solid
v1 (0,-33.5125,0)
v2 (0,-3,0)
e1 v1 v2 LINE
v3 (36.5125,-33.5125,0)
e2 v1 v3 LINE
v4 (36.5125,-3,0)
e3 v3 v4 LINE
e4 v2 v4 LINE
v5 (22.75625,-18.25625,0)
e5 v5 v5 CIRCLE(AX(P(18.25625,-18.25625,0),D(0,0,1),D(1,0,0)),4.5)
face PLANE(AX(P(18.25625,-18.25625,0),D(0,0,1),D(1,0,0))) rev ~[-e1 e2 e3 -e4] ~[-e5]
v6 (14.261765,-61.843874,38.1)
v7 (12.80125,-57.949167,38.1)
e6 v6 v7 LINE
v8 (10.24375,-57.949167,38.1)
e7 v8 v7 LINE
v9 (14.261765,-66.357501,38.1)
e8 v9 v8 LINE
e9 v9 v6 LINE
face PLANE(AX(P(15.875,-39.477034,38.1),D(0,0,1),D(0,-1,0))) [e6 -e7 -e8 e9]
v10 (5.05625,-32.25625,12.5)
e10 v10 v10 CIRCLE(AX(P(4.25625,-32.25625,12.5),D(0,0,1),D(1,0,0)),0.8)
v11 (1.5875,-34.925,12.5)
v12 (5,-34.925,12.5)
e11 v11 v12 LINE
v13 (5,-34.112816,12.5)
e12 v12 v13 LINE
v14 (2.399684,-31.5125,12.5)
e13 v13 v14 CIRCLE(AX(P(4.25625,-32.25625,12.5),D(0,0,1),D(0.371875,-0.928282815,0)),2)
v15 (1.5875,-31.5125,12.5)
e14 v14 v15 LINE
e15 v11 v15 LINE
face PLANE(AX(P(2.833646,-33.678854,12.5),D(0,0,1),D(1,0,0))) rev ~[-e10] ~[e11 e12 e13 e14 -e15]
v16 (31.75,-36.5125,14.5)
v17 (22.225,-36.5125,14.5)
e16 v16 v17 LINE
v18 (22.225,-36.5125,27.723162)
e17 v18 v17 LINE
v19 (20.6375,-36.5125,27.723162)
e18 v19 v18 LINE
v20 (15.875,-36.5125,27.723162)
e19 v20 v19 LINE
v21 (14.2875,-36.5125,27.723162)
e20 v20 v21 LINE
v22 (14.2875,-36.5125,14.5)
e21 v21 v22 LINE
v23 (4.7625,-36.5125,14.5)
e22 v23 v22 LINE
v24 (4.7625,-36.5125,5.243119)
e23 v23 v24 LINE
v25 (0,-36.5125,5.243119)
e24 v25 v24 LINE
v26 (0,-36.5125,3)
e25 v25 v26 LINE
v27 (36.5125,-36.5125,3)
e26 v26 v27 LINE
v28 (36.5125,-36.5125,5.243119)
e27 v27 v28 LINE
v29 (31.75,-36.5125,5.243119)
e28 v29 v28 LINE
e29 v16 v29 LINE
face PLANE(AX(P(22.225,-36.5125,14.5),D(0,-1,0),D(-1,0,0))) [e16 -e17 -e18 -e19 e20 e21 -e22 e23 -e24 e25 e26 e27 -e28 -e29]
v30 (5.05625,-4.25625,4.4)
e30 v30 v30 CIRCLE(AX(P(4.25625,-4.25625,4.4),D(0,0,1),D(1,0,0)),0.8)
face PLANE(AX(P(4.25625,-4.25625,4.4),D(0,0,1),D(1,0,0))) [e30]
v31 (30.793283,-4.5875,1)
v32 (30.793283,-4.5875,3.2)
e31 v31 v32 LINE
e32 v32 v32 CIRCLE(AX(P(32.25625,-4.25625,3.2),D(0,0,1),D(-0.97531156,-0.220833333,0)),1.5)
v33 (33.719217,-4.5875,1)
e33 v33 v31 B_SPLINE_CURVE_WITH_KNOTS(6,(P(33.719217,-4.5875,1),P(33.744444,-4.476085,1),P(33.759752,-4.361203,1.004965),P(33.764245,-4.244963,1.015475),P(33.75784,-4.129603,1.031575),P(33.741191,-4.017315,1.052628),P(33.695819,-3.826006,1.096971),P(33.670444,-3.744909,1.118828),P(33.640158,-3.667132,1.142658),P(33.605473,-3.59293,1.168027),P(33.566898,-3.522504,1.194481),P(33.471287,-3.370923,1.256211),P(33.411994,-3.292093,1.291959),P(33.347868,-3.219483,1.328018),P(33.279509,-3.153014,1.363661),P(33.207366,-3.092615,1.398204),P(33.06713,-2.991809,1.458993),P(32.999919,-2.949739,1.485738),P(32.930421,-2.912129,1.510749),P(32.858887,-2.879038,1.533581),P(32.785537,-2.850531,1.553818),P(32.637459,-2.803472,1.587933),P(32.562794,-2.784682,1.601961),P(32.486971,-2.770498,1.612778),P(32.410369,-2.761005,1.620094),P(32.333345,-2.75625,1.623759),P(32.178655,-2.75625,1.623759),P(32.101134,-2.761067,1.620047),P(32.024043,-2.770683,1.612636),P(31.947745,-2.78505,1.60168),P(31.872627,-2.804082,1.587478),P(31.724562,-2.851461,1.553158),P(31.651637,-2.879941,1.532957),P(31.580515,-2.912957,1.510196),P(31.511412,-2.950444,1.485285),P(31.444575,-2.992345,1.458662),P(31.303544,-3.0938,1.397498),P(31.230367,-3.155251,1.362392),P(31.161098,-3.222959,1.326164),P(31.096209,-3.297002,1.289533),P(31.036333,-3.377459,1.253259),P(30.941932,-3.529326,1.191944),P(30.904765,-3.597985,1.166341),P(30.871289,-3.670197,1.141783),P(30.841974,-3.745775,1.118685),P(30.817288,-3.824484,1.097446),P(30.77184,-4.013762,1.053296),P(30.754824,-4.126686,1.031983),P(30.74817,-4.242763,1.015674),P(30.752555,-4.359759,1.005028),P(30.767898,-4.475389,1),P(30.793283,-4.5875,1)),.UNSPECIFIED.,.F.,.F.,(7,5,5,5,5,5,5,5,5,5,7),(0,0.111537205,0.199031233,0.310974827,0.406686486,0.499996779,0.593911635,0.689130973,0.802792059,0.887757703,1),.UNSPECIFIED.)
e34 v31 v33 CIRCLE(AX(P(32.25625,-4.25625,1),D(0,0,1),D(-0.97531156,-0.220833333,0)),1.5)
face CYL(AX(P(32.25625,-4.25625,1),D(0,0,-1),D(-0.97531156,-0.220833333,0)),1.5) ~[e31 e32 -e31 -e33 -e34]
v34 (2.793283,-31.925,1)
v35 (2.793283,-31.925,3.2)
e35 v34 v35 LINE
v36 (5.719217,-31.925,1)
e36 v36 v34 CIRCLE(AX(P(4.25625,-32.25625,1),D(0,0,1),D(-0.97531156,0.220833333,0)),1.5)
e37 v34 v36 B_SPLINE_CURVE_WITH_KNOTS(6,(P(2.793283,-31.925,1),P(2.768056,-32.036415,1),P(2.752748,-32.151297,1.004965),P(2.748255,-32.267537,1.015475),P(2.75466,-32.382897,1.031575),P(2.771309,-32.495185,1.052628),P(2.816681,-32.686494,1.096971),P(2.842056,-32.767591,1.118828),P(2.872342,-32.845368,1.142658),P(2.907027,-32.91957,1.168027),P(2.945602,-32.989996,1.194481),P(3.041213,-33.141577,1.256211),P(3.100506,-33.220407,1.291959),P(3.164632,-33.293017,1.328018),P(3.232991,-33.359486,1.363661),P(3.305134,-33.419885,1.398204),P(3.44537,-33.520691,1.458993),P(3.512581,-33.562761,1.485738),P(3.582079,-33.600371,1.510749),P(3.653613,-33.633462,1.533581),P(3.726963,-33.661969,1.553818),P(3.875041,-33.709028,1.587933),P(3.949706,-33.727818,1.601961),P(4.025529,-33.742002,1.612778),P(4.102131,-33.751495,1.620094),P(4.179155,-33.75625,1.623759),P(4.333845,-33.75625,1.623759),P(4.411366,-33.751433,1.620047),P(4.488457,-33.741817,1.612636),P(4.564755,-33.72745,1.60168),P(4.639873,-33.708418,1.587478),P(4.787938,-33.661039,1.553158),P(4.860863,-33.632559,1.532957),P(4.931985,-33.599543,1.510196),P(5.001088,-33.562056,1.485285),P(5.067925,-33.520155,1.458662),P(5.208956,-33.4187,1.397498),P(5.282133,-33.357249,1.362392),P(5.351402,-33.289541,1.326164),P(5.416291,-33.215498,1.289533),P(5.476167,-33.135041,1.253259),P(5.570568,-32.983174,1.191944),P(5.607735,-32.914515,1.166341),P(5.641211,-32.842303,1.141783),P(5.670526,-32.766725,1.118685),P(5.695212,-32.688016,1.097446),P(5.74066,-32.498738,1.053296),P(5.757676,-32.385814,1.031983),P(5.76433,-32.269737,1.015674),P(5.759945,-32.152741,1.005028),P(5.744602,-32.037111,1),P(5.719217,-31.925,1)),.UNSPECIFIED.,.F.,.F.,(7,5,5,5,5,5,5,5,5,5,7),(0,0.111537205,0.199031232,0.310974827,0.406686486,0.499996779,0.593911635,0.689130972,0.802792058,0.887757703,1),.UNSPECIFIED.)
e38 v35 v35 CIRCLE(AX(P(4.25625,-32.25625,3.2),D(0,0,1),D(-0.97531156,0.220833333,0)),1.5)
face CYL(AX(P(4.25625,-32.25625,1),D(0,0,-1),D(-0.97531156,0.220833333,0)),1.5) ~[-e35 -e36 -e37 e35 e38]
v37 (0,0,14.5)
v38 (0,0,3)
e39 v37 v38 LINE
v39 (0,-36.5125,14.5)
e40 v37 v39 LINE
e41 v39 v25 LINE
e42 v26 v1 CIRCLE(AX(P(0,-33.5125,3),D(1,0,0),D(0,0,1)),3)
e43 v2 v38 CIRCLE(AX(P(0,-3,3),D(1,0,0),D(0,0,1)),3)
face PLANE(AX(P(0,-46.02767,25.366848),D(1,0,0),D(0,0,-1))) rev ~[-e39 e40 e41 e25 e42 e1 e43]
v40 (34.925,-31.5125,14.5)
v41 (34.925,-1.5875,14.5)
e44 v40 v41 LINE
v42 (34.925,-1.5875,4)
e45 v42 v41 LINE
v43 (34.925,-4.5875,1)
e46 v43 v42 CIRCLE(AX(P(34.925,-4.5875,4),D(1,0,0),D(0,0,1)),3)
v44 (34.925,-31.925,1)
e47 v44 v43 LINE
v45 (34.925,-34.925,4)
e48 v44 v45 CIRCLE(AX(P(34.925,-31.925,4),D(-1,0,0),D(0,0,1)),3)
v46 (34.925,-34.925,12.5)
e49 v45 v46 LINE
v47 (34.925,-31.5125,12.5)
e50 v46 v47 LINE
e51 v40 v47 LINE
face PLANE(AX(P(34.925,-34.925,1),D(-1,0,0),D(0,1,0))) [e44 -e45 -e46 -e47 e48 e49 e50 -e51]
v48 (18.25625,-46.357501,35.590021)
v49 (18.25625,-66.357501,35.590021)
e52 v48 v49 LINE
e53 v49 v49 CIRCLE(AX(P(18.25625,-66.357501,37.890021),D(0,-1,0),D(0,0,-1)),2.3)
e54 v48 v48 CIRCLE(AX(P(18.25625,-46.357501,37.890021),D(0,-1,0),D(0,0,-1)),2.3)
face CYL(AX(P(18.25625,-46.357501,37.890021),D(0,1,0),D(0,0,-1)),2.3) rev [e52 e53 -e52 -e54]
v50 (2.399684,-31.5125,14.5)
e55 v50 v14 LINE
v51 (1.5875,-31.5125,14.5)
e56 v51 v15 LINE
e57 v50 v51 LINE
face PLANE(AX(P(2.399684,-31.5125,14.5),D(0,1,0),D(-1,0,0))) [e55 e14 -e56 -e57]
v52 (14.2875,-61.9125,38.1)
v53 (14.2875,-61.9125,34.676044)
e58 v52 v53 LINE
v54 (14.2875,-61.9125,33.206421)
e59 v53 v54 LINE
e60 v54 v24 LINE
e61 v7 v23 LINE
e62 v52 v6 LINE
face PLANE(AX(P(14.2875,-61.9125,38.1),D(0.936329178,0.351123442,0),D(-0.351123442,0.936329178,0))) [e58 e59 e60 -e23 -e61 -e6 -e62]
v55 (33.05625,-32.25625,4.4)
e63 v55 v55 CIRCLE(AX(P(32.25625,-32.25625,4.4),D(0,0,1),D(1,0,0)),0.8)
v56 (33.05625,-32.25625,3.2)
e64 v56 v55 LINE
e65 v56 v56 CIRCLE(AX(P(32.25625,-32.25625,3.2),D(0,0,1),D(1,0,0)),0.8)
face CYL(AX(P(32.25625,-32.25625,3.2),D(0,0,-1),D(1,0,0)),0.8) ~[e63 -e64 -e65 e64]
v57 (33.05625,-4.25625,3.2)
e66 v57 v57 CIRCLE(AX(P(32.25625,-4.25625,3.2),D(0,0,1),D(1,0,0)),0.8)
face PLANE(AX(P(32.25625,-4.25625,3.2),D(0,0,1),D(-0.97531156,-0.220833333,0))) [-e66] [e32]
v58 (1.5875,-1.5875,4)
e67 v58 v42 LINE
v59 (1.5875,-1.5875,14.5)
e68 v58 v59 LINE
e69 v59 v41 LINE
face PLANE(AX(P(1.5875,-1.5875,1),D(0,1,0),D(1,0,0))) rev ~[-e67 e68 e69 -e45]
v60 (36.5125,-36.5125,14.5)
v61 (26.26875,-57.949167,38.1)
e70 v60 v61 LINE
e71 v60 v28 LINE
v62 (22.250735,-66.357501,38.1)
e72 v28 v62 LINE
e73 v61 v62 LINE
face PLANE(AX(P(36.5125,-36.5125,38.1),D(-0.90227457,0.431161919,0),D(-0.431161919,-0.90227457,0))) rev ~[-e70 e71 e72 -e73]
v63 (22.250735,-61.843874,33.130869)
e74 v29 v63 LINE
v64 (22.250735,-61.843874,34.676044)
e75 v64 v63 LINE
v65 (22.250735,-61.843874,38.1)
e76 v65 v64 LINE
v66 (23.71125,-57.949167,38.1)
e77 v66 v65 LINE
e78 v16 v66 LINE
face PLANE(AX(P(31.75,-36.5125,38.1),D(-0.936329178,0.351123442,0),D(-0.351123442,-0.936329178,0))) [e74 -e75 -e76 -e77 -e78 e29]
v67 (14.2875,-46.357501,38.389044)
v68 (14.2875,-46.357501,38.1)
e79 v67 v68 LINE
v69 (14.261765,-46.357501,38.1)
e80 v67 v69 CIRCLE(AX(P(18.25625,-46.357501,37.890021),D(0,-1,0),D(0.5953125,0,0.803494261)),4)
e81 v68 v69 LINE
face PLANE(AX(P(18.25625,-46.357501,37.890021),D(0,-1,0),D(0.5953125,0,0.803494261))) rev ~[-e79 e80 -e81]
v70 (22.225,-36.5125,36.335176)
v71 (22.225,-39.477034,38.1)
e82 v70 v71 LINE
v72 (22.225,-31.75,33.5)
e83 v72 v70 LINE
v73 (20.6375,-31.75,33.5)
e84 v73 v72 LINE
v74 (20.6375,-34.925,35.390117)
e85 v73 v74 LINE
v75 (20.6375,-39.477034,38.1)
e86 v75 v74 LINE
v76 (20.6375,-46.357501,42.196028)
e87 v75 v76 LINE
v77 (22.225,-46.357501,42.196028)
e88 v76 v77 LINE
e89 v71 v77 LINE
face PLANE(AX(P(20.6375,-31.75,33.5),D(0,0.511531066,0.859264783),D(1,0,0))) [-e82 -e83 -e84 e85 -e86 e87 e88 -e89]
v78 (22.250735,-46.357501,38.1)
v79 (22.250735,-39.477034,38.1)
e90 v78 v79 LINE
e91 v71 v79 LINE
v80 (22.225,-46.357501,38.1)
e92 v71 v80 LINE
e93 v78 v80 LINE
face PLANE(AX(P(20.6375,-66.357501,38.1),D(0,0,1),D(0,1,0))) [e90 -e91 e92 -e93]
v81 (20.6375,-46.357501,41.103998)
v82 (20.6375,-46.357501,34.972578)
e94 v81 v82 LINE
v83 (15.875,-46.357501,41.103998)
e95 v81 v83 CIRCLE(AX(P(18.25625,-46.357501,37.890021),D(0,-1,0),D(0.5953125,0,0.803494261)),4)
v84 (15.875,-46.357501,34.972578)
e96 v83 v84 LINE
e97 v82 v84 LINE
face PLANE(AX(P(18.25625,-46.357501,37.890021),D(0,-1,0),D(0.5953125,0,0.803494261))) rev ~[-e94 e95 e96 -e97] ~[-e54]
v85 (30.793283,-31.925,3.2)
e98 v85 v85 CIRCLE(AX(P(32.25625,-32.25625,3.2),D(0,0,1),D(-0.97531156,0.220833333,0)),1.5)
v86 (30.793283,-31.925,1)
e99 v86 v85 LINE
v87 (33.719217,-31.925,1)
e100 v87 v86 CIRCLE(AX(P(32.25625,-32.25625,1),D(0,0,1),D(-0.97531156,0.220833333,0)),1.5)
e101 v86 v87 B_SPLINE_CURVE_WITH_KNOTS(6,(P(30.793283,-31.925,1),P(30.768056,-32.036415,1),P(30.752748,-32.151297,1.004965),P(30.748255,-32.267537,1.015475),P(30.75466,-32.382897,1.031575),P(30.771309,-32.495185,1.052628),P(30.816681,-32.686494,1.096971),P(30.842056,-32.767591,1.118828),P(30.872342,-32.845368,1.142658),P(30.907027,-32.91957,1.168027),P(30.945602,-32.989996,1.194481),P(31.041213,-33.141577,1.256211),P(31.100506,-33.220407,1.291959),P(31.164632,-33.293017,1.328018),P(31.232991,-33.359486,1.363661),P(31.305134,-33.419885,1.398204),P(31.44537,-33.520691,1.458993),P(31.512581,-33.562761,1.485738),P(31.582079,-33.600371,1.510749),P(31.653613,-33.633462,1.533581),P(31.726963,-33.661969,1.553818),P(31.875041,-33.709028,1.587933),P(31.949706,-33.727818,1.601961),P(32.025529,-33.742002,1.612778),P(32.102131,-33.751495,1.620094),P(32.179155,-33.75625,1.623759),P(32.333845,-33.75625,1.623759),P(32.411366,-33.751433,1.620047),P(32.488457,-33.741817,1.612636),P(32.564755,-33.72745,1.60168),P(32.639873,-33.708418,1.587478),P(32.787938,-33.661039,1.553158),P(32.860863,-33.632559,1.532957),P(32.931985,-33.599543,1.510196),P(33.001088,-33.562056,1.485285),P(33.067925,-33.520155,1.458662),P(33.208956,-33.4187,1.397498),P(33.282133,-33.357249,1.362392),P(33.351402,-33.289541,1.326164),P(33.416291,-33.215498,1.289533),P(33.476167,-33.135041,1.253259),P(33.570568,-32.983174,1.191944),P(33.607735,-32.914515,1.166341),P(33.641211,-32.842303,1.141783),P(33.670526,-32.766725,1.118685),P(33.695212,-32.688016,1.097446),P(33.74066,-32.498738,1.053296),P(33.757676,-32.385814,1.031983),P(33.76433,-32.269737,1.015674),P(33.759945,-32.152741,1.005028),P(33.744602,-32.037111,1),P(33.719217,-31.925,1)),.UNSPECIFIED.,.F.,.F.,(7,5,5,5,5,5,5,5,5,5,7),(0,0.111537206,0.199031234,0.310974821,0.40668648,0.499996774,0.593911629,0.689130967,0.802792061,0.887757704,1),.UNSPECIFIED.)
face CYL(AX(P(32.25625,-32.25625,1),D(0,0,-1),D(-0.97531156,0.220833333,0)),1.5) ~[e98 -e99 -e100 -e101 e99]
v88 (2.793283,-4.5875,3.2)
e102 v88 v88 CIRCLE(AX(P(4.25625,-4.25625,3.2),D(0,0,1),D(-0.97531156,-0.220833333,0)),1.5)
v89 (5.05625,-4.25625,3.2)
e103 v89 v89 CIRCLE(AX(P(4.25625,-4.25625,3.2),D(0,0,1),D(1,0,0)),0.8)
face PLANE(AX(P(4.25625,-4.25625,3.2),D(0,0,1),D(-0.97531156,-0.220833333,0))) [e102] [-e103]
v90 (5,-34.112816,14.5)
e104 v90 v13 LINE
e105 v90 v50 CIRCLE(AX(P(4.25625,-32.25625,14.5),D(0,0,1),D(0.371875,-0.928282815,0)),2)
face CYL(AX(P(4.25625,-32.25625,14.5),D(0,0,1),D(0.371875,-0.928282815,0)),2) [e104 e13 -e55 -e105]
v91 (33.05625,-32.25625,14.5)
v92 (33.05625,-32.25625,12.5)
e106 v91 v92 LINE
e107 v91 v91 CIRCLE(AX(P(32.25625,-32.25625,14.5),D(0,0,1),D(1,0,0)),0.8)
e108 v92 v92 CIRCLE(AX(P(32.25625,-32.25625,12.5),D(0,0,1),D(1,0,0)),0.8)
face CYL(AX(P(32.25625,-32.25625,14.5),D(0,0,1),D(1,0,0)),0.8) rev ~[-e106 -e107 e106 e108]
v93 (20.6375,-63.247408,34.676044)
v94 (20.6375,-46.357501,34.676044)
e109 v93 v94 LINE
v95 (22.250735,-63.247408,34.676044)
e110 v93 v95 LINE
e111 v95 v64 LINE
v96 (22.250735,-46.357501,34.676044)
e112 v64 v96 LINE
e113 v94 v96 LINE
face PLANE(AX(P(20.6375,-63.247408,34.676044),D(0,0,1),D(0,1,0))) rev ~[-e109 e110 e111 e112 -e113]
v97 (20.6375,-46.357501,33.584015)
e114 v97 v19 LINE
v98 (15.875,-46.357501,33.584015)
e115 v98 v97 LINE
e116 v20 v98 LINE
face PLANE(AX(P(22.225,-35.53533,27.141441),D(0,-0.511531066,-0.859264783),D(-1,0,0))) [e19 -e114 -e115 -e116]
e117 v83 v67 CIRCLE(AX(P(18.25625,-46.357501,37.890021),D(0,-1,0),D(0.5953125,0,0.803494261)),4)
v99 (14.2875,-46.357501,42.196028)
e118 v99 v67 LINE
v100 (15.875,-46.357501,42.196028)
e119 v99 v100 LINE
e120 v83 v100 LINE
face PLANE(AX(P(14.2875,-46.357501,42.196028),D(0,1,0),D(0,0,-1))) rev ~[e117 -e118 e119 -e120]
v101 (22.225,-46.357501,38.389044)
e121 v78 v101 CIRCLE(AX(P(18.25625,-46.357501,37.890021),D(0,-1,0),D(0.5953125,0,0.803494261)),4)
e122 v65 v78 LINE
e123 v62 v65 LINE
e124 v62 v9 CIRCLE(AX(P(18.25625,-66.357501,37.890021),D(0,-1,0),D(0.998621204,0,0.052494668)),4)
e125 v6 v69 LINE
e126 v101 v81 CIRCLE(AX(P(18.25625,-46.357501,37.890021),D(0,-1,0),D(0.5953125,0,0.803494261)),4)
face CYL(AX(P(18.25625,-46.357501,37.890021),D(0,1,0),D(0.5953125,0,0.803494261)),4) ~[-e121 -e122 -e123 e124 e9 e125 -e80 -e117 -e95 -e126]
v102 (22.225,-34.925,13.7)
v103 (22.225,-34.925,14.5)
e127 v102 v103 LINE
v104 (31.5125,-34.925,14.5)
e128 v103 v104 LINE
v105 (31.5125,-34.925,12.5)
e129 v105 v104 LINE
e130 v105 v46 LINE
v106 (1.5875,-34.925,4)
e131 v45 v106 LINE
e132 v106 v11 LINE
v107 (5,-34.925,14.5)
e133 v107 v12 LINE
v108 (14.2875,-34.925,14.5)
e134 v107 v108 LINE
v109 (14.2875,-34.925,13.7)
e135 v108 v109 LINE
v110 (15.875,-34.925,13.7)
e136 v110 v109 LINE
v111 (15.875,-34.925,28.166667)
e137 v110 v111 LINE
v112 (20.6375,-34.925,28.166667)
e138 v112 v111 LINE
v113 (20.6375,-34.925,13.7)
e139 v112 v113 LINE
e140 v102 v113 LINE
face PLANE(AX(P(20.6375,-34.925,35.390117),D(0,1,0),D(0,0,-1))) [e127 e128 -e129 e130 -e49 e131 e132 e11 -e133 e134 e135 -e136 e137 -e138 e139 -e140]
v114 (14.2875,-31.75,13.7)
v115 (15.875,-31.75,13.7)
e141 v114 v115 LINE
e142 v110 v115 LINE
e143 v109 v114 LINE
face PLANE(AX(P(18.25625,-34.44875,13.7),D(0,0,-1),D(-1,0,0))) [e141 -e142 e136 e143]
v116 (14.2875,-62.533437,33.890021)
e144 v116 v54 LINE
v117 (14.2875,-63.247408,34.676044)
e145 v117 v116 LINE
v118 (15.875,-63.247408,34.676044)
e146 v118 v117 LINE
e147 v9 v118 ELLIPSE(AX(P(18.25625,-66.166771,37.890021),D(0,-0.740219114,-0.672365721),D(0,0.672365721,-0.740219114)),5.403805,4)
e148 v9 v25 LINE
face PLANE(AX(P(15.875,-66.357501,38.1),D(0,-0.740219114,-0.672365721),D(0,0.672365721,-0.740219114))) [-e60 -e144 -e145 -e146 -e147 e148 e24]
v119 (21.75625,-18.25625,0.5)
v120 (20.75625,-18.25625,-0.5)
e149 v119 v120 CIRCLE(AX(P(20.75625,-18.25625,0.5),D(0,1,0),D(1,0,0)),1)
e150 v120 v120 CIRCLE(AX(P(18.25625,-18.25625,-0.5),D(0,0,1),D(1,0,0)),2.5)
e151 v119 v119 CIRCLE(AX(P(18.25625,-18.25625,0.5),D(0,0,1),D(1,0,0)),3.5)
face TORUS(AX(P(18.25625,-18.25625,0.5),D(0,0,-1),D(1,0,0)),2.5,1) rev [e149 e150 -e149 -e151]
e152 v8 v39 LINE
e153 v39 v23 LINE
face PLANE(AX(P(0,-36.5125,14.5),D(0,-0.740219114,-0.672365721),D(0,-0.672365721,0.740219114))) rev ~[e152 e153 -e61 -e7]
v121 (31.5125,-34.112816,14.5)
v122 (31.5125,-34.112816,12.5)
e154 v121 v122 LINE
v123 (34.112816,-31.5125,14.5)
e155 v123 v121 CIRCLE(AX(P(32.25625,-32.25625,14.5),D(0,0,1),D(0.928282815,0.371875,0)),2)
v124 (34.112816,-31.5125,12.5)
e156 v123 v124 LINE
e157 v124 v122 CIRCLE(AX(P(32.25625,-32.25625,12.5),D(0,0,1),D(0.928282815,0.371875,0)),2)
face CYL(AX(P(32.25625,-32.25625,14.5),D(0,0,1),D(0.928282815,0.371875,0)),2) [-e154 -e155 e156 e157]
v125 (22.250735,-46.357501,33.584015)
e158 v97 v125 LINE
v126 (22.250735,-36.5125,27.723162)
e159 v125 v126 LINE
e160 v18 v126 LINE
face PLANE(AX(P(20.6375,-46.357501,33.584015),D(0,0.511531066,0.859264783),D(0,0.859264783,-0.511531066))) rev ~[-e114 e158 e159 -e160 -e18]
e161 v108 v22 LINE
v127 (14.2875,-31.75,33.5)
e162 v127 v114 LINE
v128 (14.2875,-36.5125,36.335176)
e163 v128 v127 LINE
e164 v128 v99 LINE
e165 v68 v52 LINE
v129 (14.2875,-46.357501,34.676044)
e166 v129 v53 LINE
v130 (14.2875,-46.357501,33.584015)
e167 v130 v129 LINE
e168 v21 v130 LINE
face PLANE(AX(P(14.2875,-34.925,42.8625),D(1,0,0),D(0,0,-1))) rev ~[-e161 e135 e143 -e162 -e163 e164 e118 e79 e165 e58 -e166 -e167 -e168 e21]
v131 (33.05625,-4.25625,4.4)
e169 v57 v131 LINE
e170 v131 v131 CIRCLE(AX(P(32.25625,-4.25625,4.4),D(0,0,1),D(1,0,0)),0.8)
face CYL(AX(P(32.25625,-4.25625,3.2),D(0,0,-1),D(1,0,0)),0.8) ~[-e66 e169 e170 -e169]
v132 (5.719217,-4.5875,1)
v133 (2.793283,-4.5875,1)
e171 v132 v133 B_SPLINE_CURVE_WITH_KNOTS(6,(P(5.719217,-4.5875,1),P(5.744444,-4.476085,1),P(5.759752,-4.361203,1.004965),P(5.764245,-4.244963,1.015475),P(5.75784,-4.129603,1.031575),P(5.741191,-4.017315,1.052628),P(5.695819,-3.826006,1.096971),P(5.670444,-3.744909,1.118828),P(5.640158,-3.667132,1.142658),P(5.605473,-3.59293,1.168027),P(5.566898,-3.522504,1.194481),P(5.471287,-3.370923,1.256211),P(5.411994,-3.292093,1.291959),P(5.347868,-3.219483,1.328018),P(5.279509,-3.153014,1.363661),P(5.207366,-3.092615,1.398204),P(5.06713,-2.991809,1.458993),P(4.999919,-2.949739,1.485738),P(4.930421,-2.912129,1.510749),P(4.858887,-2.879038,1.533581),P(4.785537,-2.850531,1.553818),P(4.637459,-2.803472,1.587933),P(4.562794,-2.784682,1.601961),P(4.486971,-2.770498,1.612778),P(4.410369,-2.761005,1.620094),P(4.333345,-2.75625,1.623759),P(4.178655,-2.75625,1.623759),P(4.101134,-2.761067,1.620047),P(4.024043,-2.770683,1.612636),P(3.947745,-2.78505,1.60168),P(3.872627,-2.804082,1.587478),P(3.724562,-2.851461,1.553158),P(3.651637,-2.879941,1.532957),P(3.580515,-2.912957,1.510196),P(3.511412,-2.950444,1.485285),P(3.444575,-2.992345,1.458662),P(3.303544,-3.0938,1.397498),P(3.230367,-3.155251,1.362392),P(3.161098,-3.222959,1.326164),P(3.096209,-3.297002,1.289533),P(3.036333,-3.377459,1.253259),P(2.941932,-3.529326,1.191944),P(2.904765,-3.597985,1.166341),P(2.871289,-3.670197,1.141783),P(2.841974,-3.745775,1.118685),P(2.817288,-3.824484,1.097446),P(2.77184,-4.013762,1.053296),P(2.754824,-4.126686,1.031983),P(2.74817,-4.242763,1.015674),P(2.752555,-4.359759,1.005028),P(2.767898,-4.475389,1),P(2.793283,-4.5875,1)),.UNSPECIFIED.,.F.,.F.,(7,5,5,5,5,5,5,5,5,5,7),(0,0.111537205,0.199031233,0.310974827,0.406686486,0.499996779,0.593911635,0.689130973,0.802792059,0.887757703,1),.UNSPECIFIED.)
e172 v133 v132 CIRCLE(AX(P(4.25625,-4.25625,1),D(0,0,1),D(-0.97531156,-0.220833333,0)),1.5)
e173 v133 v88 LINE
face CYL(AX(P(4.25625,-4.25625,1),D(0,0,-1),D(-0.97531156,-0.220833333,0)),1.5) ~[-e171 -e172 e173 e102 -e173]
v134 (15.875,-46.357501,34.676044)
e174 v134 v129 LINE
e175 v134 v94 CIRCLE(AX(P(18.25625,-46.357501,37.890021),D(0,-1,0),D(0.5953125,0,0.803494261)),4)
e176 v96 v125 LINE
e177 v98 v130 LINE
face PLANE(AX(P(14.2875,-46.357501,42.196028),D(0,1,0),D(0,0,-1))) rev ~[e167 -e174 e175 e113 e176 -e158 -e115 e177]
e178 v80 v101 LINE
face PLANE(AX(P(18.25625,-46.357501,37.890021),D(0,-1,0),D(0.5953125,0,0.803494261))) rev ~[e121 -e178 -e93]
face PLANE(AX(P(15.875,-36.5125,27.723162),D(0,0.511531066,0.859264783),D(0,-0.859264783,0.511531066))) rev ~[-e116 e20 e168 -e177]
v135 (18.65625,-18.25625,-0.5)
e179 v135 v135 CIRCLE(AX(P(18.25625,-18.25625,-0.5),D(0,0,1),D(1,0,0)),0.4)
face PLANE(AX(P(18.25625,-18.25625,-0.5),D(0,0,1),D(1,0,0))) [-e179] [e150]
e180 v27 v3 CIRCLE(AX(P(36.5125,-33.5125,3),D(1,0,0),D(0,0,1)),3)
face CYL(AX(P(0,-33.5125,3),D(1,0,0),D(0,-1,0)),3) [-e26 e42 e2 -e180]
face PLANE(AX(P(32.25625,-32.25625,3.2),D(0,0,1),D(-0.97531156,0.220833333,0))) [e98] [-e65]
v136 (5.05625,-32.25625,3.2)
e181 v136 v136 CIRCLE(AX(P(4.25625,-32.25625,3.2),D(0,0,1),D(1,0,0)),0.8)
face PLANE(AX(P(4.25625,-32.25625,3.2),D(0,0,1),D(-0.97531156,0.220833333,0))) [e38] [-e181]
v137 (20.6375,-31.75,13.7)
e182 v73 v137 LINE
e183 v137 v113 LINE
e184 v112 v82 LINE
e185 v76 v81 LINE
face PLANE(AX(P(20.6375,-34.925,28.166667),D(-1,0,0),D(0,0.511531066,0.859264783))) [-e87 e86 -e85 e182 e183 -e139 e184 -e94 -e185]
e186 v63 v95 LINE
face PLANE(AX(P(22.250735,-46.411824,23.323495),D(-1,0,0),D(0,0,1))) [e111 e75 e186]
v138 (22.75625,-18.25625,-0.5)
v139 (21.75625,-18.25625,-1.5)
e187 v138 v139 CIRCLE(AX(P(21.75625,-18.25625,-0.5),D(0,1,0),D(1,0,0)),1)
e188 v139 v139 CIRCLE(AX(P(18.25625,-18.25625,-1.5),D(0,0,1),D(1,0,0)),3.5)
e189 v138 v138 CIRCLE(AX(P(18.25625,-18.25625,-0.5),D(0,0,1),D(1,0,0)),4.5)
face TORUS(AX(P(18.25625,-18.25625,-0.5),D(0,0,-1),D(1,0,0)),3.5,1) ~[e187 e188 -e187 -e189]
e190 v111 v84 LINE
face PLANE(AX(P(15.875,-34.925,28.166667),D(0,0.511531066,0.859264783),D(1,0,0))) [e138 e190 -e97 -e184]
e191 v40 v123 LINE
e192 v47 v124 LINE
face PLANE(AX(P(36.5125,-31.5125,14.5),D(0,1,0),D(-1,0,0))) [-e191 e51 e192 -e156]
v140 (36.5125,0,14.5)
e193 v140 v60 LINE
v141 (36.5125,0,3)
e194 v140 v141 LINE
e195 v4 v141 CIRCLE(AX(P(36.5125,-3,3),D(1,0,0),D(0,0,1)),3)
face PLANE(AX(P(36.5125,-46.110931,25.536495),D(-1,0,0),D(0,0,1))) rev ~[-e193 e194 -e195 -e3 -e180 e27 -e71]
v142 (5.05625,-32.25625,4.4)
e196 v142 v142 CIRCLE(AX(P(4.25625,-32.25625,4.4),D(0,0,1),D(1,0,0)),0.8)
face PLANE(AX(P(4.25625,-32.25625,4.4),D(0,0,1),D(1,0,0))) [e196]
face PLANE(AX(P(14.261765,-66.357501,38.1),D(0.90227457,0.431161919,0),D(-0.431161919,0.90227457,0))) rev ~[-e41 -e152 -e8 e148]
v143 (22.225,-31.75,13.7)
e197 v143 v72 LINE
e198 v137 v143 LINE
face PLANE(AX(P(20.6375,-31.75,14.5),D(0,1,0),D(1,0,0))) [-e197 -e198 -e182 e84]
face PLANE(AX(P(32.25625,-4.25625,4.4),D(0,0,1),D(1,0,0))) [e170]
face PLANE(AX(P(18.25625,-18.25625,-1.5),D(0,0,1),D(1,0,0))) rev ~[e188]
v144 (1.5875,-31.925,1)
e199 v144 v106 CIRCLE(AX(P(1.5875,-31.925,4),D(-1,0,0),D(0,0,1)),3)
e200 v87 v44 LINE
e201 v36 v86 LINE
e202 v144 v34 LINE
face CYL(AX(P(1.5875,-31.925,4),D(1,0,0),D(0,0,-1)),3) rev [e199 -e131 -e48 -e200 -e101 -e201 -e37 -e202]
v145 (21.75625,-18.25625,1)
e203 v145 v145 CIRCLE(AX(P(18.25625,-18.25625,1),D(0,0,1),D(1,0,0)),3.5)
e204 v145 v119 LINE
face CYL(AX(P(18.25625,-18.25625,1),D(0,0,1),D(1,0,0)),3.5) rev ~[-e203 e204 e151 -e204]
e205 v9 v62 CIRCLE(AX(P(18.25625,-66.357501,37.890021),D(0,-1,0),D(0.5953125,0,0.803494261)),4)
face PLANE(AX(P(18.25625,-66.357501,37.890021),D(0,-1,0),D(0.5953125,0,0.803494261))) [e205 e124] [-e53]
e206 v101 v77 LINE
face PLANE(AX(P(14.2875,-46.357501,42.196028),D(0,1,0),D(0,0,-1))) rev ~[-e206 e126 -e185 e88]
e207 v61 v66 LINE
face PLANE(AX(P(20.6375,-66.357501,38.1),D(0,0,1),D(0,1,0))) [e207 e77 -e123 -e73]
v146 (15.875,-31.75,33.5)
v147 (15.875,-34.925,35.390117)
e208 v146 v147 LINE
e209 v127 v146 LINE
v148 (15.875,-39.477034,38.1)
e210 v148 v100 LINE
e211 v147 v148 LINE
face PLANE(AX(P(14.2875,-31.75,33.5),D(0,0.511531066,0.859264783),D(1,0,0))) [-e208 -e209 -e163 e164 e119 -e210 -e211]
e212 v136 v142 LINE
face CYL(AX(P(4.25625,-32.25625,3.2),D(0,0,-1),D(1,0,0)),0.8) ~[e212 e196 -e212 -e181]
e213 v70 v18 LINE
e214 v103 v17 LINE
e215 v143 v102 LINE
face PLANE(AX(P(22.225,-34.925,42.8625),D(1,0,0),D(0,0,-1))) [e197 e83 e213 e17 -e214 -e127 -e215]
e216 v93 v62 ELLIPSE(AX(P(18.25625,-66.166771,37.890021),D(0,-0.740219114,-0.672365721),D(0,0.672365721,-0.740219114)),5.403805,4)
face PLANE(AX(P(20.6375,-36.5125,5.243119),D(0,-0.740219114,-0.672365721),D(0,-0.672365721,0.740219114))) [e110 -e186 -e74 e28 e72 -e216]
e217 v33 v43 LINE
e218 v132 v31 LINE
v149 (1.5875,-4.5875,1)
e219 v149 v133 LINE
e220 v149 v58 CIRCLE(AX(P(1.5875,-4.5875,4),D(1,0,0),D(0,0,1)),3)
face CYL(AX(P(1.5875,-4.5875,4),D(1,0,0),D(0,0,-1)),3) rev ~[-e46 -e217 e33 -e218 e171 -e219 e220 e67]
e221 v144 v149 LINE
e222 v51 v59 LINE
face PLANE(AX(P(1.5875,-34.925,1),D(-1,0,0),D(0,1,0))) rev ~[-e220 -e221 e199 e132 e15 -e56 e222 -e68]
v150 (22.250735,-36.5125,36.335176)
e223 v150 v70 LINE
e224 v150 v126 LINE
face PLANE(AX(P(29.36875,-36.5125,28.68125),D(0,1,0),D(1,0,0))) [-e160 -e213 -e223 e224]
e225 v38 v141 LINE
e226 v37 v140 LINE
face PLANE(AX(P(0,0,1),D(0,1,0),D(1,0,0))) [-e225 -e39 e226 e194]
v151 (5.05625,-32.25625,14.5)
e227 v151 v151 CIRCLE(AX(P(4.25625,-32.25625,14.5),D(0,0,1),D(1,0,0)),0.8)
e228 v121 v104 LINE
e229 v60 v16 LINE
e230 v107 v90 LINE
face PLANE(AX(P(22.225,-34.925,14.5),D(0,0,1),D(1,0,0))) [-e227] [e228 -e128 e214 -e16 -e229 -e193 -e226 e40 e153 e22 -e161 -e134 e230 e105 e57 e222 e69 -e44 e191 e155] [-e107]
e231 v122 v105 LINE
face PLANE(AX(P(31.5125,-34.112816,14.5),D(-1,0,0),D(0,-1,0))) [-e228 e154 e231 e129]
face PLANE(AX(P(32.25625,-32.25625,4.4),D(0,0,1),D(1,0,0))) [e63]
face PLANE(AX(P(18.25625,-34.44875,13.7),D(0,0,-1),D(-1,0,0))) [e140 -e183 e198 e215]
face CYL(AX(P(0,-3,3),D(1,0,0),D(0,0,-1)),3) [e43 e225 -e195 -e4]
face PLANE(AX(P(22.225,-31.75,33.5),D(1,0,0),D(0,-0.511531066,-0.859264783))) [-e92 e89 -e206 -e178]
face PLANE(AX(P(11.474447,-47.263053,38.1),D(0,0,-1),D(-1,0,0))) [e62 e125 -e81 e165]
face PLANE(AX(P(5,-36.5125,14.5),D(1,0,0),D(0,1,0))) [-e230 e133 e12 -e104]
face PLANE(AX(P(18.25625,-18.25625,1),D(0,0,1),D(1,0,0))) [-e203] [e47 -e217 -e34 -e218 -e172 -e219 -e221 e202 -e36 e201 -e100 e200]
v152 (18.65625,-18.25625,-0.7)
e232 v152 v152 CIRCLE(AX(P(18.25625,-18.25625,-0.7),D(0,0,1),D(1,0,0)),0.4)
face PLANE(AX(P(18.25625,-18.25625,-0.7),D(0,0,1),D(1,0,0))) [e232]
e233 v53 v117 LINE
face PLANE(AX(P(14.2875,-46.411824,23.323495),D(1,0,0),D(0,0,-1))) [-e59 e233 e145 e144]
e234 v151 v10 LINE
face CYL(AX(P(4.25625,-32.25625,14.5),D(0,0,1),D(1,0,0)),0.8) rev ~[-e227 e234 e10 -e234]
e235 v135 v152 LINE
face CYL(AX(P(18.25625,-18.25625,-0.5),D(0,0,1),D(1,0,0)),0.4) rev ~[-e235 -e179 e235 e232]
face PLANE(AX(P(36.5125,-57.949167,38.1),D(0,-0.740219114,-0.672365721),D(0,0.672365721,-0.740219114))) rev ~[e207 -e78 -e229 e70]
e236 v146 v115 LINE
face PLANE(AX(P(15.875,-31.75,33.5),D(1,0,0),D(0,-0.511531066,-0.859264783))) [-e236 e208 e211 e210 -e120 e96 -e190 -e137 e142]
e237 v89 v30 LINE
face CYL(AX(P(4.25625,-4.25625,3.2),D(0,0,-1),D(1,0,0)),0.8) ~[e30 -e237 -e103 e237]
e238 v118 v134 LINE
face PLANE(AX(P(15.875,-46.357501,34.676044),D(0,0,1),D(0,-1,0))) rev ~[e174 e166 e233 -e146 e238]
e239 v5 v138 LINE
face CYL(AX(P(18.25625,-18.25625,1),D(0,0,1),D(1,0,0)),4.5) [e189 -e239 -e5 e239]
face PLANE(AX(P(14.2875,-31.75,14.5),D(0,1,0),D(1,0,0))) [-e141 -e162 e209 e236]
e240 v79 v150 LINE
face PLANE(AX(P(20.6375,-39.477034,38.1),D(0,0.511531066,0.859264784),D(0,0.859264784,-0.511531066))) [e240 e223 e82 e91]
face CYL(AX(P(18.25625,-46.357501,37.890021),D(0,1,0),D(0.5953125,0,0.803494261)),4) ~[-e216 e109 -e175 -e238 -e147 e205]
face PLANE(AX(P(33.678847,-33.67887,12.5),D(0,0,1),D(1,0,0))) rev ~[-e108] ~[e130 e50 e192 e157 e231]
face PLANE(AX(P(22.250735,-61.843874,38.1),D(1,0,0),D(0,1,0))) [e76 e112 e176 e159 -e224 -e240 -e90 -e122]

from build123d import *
from build123d.topology import SkipClean

# Parameters (mm, degrees)
SKETCH1_W            = 36.5125
SKETCH1_H            = 36.5125
EXTRUDE1_DEPTH       = 1
SKETCH2_W            = 36.5125
SKETCH2_H            = 36.5125
SKETCH2_W_2          = 33.3375
SKETCH2_H_2          = 33.3375
EXTRUDE2_DEPTH       = 13.5
FILLET7_R            = 3
SKETCH5_R            = 1.5
EXTRUDE5_DEPTH       = 2.2
SKETCH6_R            = 0.8
EXTRUDE6_DEPTH       = 1.2
SKETCH7_R            = 4.5
EXTRUDE7_DEPTH       = 2.5
SKETCH8_R            = 3.5
EXTRUDE9_DEPTH       = 1.5
FILLET8_R            = 1
FILLET10_R           = 1
SKETCH9_R            = 0.4
EXTRUDE10_DEPTH      = 0.2
SKETCH10_R           = 0.8
EXTRUDE11_DEPTH      = 2
EXTRUDE12_DEPTH      = 19
EXTRUDE12_DEPTH_BACK = 0.8
EXTRUDE13_DEPTH      = 55.30808767
EXTRUDE14_DEPTH      = 17
EXTRUDE15_DEPTH      = 70.200859363
SKETCH16_R           = 4
SKETCH16_R_2         = 2.3
EXTRUDE16_DEPTH      = 20
SKETCH17_W           = 7.9375
SKETCH17_H           = 1.5875
EXTRUDE17_DEPTH      = 13.5
EXTRUDE18_START      = -1.5875
EXTRUDE18_DEPTH      = 15.875
EXTRUDE20_REACH      = 87.467
EXTRUDE21_DEPTH      = 1.5875
EXTRUDE22_REACH      = 88.701
EXTRUDE23_START      = -1.5875
EXTRUDE23_DEPTH      = 15.875
EXTRUDE24_REACH      = 87.467
EXTRUDE25_REACH      = 88.701
SKETCH25_W           = 14.2875
SKETCH25_H           = 28.3625
EXTRUDE26_DEPTH      = 1.5875
EXTRUDE27_DEPTH      = 1.613234818


with BuildPart() as part:
    # Sketch1 → Extrude1 (new body)
    with BuildSketch(Plane.XY):
        with Locations((18.25625, -18.25625)):
            Rectangle(SKETCH1_W, SKETCH1_H)
    extrude(amount=EXTRUDE1_DEPTH)

    # Sketch2 → Extrude2 (add)
    with BuildSketch(Plane.XY.offset(1)):
        with Locations((18.25625, -18.25625)):
            Rectangle(SKETCH2_W, SKETCH2_H)
        with Locations((18.25625, -18.25625)):
            Rectangle(SKETCH2_W_2, SKETCH2_H_2, mode=Mode.SUBTRACT)
    extrude(amount=EXTRUDE2_DEPTH)

    # Fillet7
    fillet7_edges = [part.edges().sort_by_distance(p)[0] for p in [
        (18.25625, -1.5875, 1),
        (18.25625, -34.925, 1),
        (18.25625, -36.5125, 0),
        (18.25625, 0, 0),
    ]]
    fillet(fillet7_edges, radius=FILLET7_R)

    # Sketch5 → Extrude5 (add)
    with BuildSketch(Plane.XY.offset(1)):
        with Locations(Location((4.25625, -4.25625, 0), (0, 0, 192.757983374))):
            Circle(SKETCH5_R)
        with Locations(Location((32.25625, -4.25625, 0), (0, 0, 192.757983374))):
            Circle(SKETCH5_R)
        with Locations(Location((4.25625, -32.25625, 0), (0, 0, 167.242016626))):
            Circle(SKETCH5_R)
        with Locations(Location((32.25625, -32.25625, 0), (0, 0, 167.242016626))):
            Circle(SKETCH5_R)
    extrude(amount=EXTRUDE5_DEPTH)

    # Sketch6 → Extrude6 (add)
    with BuildSketch(Plane.XY.offset(3.2)):
        with Locations((4.25625, -32.25625)):
            Circle(SKETCH6_R)
        with Locations((32.25625, -32.25625)):
            Circle(SKETCH6_R)
        with Locations((4.25625, -4.25625)):
            Circle(SKETCH6_R)
        with Locations((32.25625, -4.25625)):
            Circle(SKETCH6_R)
    extrude(amount=EXTRUDE6_DEPTH)

    # Sketch7 → Extrude7 (add)
    with BuildSketch(Plane.XY.offset(1)):
        with Locations((18.25625, -18.25625)):
            Circle(SKETCH7_R)
    extrude(amount=-EXTRUDE7_DEPTH)

    # Sketch8 → Extrude9 (cut)
    with BuildSketch(Plane.XY.offset(1)):
        with Locations((18.25625, -18.25625)):
            Circle(SKETCH8_R)
    extrude(amount=-EXTRUDE9_DEPTH, mode=Mode.SUBTRACT)

    # Fillet8
    fillet8_edges = [part.edges().sort_by_distance(p)[0] for p in [
        (13.75625, -18.25625, -1.5),
    ]]
    fillet(fillet8_edges, radius=FILLET8_R)

    # Fillet10
    fillet10_edges = [part.edges().sort_by_distance(p)[0] for p in [
        (14.75625, -18.25625, -0.5),
    ]]
    fillet(fillet10_edges, radius=FILLET10_R)

    # Sketch9 → Extrude10 (cut)
    with BuildSketch(Plane.XY.offset(-0.5)):
        with Locations((18.25625, -18.25625)):
            Circle(SKETCH9_R)
    extrude(amount=-EXTRUDE10_DEPTH, mode=Mode.SUBTRACT)

    # Sketch10 → Extrude11 (add)
    with BuildSketch(Plane.XY.offset(14.5)):
        with BuildLine():
            Line((31.5125, -34.11281563), (31.5125, -36.512569909))
            Line((31.5125, -36.512569909), (36.5125, -36.5125))
            Line((36.5125, -36.5125), (36.5125, -31.5125))
            Line((36.5125, -31.5125), (34.11281563, -31.5125))
            ThreePointArc((34.11281563, -31.5125), (30.842036438, -30.842036438), (31.5125, -34.11281563))
        make_face()
        with Locations((32.25625, -32.25625)):
            Circle(SKETCH10_R, mode=Mode.SUBTRACT)
        with BuildLine():
            Line((2.39968437, -31.5125), (0, -31.5125))
            Line((0, -31.5125), (0, -36.5125))
            Line((0, -36.5125), (5, -36.5125))
            Line((5, -36.5125), (5, -34.11281563))
            ThreePointArc((5, -34.11281563), (5.670463562, -30.842036438), (2.39968437, -31.5125))
        make_face()
        with Locations((4.25625, -32.25625)):
            Circle(SKETCH10_R, mode=Mode.SUBTRACT)
    extrude(amount=-EXTRUDE11_DEPTH)

    # Sketch11 → Extrude12 (add, two sides)
    with BuildSketch(Plane.XY.offset(14.5)) as extrude12_sk:
        Polygon((14.2875, -36.5125), (14.2875, -31.75), (15.875, -31.75), (15.875, -33.3375), (15.875, -34.925), (20.6375, -34.925), (20.6375, -33.3375), (20.6375, -31.75), (22.225, -31.75), (22.225, -36.5125), align=None)
    extrude(amount=EXTRUDE12_DEPTH)
    extrude(extrude12_sk.sketch, amount=-EXTRUDE12_DEPTH_BACK)

    # Sketch13 → Extrude13 (cut, through all)
    with BuildSketch(Plane.ZY.offset(-14.2875)):
        Polygon((33.5, -31.75), (25.5, -36.5125), (33.5, -36.5125), align=None)
    extrude(amount=-EXTRUDE13_DEPTH, mode=Mode.SUBTRACT)

    # Sketch14 → Extrude14 (add)
    with BuildSketch(Plane(origin=(0, -38.166778126, 22.721160103), x_dir=(1, 0, 0), z_dir=(0, -0.8592647834640841, 0.5115310664059621))):
        Polygon((22.225, 12.544258888), (22.225, 5.144258888), (14.2875, 5.144258888), (14.2875, 12.544258888), (15.875, 12.544258888), (15.875, 6.33740224), (20.6375, 6.33740224), (20.6375, 12.544258888), align=None)
    extrude(amount=EXTRUDE14_DEPTH)

    # Sketch15 → Extrude15 (cut, through all)
    with BuildSketch(Plane.ZY.offset(-14.2875)):
        Polygon((42.196028129, -46.357501319), (33.58401453, -46.357501319), (35.837468731, -50.14283121), align=None)
    extrude(amount=-EXTRUDE15_DEPTH, mode=Mode.SUBTRACT)

    # Sketch16 → Extrude16 (add)
    with BuildSketch(Plane.XZ.offset(46.357501319)):
        with Locations(Location((18.25625, 37.89002133, 0), (0, 0, 53.465087278))):
            Circle(SKETCH16_R)
        with Locations(Location((18.25625, 37.89002133, 0), (0, 0, 270))):
            Circle(SKETCH16_R_2, mode=Mode.SUBTRACT)
    extrude(amount=EXTRUDE16_DEPTH)

    # Sketch17 → Extrude17 (add)
    with BuildSketch(Plane.XY.offset(14.5)):
        with Locations((18.25625, -35.71875)):
            Rectangle(SKETCH17_W, SKETCH17_H)
    extrude(amount=EXTRUDE17_DEPTH)

    # Sketch18 → Extrude18 (add)
    with SkipClean():  # the faces are left unmerged after this step: merging them gives an invalid solid
        with BuildSketch(Plane.ZY.offset(-14.2875).offset(EXTRUDE18_START)):
            Polygon((38.1, -39.477034121), (38.1, -66.357501319), (3.495412711, -34.925), (35.390117188, -34.925), align=None)
        extrude(amount=EXTRUDE18_DEPTH)

    # Extrude20: up to this face of the body (flat: up to its plane)
    extrude20_end = Plane(part.part.faces().sort_by_distance((7.881670557, -51.329678598, 21.555608644))[0])
    # Sketch19 → Extrude20 (cut, up to the picked face)
    with BuildSketch(Plane.XY.offset(38.1), mode=Mode.PRIVATE) as extrude20_sk1:
        Polygon((0, -66.357501319), (14.261765182, -66.357501319), (0, -36.5125), align=None)
    extrude20_tool1 = split(extrude(extrude20_sk1.sketch, amount=-EXTRUDE20_REACH, mode=Mode.PRIVATE), bisect_by=extrude20_end, keep=Keep.BOTH, mode=Mode.PRIVATE)
    # Sketch19 → Extrude20 (cut, up to the picked face)
    with BuildSketch(Plane.XY.offset(38.1), mode=Mode.PRIVATE) as extrude20_sk2:
        Polygon((4.7625, -36.5125), (14.2875, -36.5125), (14.2875, -61.9125), align=None)
    extrude20_tool2 = split(extrude(extrude20_sk2.sketch, amount=-EXTRUDE20_REACH, mode=Mode.PRIVATE), bisect_by=extrude20_end, keep=Keep.BOTH, mode=Mode.PRIVATE)
    add(extrude20_tool1.solids().sort_by(Axis((4.753922, -56.409168, 38.1), (0, 0, -1)))[0], mode=Mode.SUBTRACT)
    add(extrude20_tool2.solids().sort_by(Axis((11.1125, -44.979167, 38.1), (0, 0, -1)))[0], mode=Mode.SUBTRACT)

    # Sketch20 → Extrude21 (cut)
    with SkipClean():  # the faces are left unmerged after this step: merging them gives an invalid solid
        with BuildSketch(Plane(origin=(15.875, 0, 0), x_dir=(0, 0, -1), z_dir=(1, 0, 0))):
            Polygon((-34.676044286, -63.247408093), (-33.89002133, -62.533437214), (-5.243119066, -36.5125), (-27.723162183, -36.5125), (-33.58401453, -46.357501319), (-33.89002133, -46.357501319), (-34.676044286, -46.357501319), align=None)
        extrude(amount=-EXTRUDE21_DEPTH, mode=Mode.SUBTRACT)

    # Extrude22: up to this plane
    with SkipClean():  # the faces are left unmerged after this step: merging them gives an invalid solid
        extrude22_end = Plane(origin=(4.7625, -36.5125, -19.465058372), z_dir=(-0.9363291775690445, -0.3511234415883917, 0))
        # Sketch21 → Extrude22 (cut, up to the surface)
        with BuildSketch(Plane.ZY, mode=Mode.PRIVATE) as extrude22_sk1:
            Polygon((38.1, -57.949167484), (38.1, -36.5125), (14.5, -36.5125), align=None)
        extrude22_tool1 = split(extrude(extrude22_sk1.sketch, amount=-EXTRUDE22_REACH, mode=Mode.PRIVATE), bisect_by=extrude22_end, keep=Keep.BOTH, mode=Mode.PRIVATE)
        add(extrude22_tool1.solids().sort_by_distance((0, -43.658056, 30.233333))[0], mode=Mode.SUBTRACT)

    # Sketch22 → Extrude23 (add)
    with BuildSketch(Plane(origin=(22.225, 0, 0), x_dir=(0, 0, -1), z_dir=(1, 0, 0)).offset(EXTRUDE23_START)):
        Polygon((-5.243119066, -36.5125), (-38.1, -66.357501319), (-38.1, -39.477034121), (-35.390117188, -34.925), (-4, -34.925), align=None)
    extrude(amount=EXTRUDE23_DEPTH)

    # Extrude24: up to this face of the body (flat: up to its plane)
    extrude24_end = Plane(part.part.faces().sort_by_distance((28.630829443, -51.329678598, 21.555608644))[0])
    # Sketch23 → Extrude24 (cut, up to the picked face)
    with BuildSketch(Plane.XY.offset(38.1), mode=Mode.PRIVATE) as extrude24_sk1:
        Polygon((22.250734818, -66.357501319), (36.5125, -66.357501319), (36.5125, -36.5125), align=None)
    extrude24_tool1 = split(extrude(extrude24_sk1.sketch, amount=-EXTRUDE24_REACH, mode=Mode.PRIVATE), bisect_by=extrude24_end, keep=Keep.BOTH, mode=Mode.PRIVATE)
    # Sketch23 → Extrude24 (cut, up to the picked face)
    with BuildSketch(Plane.XY.offset(38.1), mode=Mode.PRIVATE) as extrude24_sk2:
        Polygon((22.250734818, -61.84387382), (22.250734818, -36.5125), (31.75, -36.5125), align=None)
    extrude24_tool2 = split(extrude(extrude24_sk2.sketch, amount=-EXTRUDE24_REACH, mode=Mode.PRIVATE), bisect_by=extrude24_end, keep=Keep.BOTH, mode=Mode.PRIVATE)
    add(extrude24_tool1.solids().sort_by(Axis((31.758578, -56.409168, 38.1), (0, 0, -1)))[0], mode=Mode.SUBTRACT)
    add(extrude24_tool2.solids().sort_by(Axis((25.417157, -44.956291, 38.1), (0, 0, -1)))[0], mode=Mode.SUBTRACT)

    # Extrude25: up to this plane
    extrude25_end = Plane(origin=(31.75, -36.5125, -19.465058372), z_dir=(0.9363291775690447, -0.3511234415883913, 0))
    # Sketch24 → Extrude25 (cut, up to the surface)
    with BuildSketch(Plane(origin=(36.5125, 0, 0), x_dir=(0, 0, -1), z_dir=(1, 0, 0)), mode=Mode.PRIVATE) as extrude25_sk1:
        Polygon((-14.5, -36.5125), (-36.335175781, -36.5125), (-38.1, -39.477034121), (-38.1, -57.949167484), align=None)
    extrude25_tool1 = split(extrude(extrude25_sk1.sketch, amount=-EXTRUDE25_REACH, mode=Mode.PRIVATE), bisect_by=extrude25_end, keep=Keep.BOTH, mode=Mode.PRIVATE)
    add(extrude25_tool1.solids().sort_by_distance((36.5125, -43.722399, 30.157276))[0], mode=Mode.SUBTRACT)

    # Sketch25 → Extrude26 (cut)
    with BuildSketch(Plane(origin=(0, -34.925, 0), x_dir=(1, 0, 0), z_dir=(0, 1, 0))):
        with Locations((7.14375, -28.68125)):
            Rectangle(SKETCH25_W, SKETCH25_H)
        with Locations((29.36875, -28.68125)):
            Rectangle(SKETCH25_W, SKETCH25_H)
    extrude(amount=-EXTRUDE26_DEPTH, mode=Mode.SUBTRACT)

    # Sketch26 → Extrude27 (cut)
    with BuildSketch(Plane.ZY.offset(-20.6375)):
        Polygon((34.676044286, -46.357501319), (33.58401453, -46.357501319), (27.723162183, -36.5125), (5.243119066, -36.5125), (34.676044286, -63.247408093), align=None)
    extrude(amount=-EXTRUDE27_DEPTH, mode=Mode.SUBTRACT)


solid = part.part
